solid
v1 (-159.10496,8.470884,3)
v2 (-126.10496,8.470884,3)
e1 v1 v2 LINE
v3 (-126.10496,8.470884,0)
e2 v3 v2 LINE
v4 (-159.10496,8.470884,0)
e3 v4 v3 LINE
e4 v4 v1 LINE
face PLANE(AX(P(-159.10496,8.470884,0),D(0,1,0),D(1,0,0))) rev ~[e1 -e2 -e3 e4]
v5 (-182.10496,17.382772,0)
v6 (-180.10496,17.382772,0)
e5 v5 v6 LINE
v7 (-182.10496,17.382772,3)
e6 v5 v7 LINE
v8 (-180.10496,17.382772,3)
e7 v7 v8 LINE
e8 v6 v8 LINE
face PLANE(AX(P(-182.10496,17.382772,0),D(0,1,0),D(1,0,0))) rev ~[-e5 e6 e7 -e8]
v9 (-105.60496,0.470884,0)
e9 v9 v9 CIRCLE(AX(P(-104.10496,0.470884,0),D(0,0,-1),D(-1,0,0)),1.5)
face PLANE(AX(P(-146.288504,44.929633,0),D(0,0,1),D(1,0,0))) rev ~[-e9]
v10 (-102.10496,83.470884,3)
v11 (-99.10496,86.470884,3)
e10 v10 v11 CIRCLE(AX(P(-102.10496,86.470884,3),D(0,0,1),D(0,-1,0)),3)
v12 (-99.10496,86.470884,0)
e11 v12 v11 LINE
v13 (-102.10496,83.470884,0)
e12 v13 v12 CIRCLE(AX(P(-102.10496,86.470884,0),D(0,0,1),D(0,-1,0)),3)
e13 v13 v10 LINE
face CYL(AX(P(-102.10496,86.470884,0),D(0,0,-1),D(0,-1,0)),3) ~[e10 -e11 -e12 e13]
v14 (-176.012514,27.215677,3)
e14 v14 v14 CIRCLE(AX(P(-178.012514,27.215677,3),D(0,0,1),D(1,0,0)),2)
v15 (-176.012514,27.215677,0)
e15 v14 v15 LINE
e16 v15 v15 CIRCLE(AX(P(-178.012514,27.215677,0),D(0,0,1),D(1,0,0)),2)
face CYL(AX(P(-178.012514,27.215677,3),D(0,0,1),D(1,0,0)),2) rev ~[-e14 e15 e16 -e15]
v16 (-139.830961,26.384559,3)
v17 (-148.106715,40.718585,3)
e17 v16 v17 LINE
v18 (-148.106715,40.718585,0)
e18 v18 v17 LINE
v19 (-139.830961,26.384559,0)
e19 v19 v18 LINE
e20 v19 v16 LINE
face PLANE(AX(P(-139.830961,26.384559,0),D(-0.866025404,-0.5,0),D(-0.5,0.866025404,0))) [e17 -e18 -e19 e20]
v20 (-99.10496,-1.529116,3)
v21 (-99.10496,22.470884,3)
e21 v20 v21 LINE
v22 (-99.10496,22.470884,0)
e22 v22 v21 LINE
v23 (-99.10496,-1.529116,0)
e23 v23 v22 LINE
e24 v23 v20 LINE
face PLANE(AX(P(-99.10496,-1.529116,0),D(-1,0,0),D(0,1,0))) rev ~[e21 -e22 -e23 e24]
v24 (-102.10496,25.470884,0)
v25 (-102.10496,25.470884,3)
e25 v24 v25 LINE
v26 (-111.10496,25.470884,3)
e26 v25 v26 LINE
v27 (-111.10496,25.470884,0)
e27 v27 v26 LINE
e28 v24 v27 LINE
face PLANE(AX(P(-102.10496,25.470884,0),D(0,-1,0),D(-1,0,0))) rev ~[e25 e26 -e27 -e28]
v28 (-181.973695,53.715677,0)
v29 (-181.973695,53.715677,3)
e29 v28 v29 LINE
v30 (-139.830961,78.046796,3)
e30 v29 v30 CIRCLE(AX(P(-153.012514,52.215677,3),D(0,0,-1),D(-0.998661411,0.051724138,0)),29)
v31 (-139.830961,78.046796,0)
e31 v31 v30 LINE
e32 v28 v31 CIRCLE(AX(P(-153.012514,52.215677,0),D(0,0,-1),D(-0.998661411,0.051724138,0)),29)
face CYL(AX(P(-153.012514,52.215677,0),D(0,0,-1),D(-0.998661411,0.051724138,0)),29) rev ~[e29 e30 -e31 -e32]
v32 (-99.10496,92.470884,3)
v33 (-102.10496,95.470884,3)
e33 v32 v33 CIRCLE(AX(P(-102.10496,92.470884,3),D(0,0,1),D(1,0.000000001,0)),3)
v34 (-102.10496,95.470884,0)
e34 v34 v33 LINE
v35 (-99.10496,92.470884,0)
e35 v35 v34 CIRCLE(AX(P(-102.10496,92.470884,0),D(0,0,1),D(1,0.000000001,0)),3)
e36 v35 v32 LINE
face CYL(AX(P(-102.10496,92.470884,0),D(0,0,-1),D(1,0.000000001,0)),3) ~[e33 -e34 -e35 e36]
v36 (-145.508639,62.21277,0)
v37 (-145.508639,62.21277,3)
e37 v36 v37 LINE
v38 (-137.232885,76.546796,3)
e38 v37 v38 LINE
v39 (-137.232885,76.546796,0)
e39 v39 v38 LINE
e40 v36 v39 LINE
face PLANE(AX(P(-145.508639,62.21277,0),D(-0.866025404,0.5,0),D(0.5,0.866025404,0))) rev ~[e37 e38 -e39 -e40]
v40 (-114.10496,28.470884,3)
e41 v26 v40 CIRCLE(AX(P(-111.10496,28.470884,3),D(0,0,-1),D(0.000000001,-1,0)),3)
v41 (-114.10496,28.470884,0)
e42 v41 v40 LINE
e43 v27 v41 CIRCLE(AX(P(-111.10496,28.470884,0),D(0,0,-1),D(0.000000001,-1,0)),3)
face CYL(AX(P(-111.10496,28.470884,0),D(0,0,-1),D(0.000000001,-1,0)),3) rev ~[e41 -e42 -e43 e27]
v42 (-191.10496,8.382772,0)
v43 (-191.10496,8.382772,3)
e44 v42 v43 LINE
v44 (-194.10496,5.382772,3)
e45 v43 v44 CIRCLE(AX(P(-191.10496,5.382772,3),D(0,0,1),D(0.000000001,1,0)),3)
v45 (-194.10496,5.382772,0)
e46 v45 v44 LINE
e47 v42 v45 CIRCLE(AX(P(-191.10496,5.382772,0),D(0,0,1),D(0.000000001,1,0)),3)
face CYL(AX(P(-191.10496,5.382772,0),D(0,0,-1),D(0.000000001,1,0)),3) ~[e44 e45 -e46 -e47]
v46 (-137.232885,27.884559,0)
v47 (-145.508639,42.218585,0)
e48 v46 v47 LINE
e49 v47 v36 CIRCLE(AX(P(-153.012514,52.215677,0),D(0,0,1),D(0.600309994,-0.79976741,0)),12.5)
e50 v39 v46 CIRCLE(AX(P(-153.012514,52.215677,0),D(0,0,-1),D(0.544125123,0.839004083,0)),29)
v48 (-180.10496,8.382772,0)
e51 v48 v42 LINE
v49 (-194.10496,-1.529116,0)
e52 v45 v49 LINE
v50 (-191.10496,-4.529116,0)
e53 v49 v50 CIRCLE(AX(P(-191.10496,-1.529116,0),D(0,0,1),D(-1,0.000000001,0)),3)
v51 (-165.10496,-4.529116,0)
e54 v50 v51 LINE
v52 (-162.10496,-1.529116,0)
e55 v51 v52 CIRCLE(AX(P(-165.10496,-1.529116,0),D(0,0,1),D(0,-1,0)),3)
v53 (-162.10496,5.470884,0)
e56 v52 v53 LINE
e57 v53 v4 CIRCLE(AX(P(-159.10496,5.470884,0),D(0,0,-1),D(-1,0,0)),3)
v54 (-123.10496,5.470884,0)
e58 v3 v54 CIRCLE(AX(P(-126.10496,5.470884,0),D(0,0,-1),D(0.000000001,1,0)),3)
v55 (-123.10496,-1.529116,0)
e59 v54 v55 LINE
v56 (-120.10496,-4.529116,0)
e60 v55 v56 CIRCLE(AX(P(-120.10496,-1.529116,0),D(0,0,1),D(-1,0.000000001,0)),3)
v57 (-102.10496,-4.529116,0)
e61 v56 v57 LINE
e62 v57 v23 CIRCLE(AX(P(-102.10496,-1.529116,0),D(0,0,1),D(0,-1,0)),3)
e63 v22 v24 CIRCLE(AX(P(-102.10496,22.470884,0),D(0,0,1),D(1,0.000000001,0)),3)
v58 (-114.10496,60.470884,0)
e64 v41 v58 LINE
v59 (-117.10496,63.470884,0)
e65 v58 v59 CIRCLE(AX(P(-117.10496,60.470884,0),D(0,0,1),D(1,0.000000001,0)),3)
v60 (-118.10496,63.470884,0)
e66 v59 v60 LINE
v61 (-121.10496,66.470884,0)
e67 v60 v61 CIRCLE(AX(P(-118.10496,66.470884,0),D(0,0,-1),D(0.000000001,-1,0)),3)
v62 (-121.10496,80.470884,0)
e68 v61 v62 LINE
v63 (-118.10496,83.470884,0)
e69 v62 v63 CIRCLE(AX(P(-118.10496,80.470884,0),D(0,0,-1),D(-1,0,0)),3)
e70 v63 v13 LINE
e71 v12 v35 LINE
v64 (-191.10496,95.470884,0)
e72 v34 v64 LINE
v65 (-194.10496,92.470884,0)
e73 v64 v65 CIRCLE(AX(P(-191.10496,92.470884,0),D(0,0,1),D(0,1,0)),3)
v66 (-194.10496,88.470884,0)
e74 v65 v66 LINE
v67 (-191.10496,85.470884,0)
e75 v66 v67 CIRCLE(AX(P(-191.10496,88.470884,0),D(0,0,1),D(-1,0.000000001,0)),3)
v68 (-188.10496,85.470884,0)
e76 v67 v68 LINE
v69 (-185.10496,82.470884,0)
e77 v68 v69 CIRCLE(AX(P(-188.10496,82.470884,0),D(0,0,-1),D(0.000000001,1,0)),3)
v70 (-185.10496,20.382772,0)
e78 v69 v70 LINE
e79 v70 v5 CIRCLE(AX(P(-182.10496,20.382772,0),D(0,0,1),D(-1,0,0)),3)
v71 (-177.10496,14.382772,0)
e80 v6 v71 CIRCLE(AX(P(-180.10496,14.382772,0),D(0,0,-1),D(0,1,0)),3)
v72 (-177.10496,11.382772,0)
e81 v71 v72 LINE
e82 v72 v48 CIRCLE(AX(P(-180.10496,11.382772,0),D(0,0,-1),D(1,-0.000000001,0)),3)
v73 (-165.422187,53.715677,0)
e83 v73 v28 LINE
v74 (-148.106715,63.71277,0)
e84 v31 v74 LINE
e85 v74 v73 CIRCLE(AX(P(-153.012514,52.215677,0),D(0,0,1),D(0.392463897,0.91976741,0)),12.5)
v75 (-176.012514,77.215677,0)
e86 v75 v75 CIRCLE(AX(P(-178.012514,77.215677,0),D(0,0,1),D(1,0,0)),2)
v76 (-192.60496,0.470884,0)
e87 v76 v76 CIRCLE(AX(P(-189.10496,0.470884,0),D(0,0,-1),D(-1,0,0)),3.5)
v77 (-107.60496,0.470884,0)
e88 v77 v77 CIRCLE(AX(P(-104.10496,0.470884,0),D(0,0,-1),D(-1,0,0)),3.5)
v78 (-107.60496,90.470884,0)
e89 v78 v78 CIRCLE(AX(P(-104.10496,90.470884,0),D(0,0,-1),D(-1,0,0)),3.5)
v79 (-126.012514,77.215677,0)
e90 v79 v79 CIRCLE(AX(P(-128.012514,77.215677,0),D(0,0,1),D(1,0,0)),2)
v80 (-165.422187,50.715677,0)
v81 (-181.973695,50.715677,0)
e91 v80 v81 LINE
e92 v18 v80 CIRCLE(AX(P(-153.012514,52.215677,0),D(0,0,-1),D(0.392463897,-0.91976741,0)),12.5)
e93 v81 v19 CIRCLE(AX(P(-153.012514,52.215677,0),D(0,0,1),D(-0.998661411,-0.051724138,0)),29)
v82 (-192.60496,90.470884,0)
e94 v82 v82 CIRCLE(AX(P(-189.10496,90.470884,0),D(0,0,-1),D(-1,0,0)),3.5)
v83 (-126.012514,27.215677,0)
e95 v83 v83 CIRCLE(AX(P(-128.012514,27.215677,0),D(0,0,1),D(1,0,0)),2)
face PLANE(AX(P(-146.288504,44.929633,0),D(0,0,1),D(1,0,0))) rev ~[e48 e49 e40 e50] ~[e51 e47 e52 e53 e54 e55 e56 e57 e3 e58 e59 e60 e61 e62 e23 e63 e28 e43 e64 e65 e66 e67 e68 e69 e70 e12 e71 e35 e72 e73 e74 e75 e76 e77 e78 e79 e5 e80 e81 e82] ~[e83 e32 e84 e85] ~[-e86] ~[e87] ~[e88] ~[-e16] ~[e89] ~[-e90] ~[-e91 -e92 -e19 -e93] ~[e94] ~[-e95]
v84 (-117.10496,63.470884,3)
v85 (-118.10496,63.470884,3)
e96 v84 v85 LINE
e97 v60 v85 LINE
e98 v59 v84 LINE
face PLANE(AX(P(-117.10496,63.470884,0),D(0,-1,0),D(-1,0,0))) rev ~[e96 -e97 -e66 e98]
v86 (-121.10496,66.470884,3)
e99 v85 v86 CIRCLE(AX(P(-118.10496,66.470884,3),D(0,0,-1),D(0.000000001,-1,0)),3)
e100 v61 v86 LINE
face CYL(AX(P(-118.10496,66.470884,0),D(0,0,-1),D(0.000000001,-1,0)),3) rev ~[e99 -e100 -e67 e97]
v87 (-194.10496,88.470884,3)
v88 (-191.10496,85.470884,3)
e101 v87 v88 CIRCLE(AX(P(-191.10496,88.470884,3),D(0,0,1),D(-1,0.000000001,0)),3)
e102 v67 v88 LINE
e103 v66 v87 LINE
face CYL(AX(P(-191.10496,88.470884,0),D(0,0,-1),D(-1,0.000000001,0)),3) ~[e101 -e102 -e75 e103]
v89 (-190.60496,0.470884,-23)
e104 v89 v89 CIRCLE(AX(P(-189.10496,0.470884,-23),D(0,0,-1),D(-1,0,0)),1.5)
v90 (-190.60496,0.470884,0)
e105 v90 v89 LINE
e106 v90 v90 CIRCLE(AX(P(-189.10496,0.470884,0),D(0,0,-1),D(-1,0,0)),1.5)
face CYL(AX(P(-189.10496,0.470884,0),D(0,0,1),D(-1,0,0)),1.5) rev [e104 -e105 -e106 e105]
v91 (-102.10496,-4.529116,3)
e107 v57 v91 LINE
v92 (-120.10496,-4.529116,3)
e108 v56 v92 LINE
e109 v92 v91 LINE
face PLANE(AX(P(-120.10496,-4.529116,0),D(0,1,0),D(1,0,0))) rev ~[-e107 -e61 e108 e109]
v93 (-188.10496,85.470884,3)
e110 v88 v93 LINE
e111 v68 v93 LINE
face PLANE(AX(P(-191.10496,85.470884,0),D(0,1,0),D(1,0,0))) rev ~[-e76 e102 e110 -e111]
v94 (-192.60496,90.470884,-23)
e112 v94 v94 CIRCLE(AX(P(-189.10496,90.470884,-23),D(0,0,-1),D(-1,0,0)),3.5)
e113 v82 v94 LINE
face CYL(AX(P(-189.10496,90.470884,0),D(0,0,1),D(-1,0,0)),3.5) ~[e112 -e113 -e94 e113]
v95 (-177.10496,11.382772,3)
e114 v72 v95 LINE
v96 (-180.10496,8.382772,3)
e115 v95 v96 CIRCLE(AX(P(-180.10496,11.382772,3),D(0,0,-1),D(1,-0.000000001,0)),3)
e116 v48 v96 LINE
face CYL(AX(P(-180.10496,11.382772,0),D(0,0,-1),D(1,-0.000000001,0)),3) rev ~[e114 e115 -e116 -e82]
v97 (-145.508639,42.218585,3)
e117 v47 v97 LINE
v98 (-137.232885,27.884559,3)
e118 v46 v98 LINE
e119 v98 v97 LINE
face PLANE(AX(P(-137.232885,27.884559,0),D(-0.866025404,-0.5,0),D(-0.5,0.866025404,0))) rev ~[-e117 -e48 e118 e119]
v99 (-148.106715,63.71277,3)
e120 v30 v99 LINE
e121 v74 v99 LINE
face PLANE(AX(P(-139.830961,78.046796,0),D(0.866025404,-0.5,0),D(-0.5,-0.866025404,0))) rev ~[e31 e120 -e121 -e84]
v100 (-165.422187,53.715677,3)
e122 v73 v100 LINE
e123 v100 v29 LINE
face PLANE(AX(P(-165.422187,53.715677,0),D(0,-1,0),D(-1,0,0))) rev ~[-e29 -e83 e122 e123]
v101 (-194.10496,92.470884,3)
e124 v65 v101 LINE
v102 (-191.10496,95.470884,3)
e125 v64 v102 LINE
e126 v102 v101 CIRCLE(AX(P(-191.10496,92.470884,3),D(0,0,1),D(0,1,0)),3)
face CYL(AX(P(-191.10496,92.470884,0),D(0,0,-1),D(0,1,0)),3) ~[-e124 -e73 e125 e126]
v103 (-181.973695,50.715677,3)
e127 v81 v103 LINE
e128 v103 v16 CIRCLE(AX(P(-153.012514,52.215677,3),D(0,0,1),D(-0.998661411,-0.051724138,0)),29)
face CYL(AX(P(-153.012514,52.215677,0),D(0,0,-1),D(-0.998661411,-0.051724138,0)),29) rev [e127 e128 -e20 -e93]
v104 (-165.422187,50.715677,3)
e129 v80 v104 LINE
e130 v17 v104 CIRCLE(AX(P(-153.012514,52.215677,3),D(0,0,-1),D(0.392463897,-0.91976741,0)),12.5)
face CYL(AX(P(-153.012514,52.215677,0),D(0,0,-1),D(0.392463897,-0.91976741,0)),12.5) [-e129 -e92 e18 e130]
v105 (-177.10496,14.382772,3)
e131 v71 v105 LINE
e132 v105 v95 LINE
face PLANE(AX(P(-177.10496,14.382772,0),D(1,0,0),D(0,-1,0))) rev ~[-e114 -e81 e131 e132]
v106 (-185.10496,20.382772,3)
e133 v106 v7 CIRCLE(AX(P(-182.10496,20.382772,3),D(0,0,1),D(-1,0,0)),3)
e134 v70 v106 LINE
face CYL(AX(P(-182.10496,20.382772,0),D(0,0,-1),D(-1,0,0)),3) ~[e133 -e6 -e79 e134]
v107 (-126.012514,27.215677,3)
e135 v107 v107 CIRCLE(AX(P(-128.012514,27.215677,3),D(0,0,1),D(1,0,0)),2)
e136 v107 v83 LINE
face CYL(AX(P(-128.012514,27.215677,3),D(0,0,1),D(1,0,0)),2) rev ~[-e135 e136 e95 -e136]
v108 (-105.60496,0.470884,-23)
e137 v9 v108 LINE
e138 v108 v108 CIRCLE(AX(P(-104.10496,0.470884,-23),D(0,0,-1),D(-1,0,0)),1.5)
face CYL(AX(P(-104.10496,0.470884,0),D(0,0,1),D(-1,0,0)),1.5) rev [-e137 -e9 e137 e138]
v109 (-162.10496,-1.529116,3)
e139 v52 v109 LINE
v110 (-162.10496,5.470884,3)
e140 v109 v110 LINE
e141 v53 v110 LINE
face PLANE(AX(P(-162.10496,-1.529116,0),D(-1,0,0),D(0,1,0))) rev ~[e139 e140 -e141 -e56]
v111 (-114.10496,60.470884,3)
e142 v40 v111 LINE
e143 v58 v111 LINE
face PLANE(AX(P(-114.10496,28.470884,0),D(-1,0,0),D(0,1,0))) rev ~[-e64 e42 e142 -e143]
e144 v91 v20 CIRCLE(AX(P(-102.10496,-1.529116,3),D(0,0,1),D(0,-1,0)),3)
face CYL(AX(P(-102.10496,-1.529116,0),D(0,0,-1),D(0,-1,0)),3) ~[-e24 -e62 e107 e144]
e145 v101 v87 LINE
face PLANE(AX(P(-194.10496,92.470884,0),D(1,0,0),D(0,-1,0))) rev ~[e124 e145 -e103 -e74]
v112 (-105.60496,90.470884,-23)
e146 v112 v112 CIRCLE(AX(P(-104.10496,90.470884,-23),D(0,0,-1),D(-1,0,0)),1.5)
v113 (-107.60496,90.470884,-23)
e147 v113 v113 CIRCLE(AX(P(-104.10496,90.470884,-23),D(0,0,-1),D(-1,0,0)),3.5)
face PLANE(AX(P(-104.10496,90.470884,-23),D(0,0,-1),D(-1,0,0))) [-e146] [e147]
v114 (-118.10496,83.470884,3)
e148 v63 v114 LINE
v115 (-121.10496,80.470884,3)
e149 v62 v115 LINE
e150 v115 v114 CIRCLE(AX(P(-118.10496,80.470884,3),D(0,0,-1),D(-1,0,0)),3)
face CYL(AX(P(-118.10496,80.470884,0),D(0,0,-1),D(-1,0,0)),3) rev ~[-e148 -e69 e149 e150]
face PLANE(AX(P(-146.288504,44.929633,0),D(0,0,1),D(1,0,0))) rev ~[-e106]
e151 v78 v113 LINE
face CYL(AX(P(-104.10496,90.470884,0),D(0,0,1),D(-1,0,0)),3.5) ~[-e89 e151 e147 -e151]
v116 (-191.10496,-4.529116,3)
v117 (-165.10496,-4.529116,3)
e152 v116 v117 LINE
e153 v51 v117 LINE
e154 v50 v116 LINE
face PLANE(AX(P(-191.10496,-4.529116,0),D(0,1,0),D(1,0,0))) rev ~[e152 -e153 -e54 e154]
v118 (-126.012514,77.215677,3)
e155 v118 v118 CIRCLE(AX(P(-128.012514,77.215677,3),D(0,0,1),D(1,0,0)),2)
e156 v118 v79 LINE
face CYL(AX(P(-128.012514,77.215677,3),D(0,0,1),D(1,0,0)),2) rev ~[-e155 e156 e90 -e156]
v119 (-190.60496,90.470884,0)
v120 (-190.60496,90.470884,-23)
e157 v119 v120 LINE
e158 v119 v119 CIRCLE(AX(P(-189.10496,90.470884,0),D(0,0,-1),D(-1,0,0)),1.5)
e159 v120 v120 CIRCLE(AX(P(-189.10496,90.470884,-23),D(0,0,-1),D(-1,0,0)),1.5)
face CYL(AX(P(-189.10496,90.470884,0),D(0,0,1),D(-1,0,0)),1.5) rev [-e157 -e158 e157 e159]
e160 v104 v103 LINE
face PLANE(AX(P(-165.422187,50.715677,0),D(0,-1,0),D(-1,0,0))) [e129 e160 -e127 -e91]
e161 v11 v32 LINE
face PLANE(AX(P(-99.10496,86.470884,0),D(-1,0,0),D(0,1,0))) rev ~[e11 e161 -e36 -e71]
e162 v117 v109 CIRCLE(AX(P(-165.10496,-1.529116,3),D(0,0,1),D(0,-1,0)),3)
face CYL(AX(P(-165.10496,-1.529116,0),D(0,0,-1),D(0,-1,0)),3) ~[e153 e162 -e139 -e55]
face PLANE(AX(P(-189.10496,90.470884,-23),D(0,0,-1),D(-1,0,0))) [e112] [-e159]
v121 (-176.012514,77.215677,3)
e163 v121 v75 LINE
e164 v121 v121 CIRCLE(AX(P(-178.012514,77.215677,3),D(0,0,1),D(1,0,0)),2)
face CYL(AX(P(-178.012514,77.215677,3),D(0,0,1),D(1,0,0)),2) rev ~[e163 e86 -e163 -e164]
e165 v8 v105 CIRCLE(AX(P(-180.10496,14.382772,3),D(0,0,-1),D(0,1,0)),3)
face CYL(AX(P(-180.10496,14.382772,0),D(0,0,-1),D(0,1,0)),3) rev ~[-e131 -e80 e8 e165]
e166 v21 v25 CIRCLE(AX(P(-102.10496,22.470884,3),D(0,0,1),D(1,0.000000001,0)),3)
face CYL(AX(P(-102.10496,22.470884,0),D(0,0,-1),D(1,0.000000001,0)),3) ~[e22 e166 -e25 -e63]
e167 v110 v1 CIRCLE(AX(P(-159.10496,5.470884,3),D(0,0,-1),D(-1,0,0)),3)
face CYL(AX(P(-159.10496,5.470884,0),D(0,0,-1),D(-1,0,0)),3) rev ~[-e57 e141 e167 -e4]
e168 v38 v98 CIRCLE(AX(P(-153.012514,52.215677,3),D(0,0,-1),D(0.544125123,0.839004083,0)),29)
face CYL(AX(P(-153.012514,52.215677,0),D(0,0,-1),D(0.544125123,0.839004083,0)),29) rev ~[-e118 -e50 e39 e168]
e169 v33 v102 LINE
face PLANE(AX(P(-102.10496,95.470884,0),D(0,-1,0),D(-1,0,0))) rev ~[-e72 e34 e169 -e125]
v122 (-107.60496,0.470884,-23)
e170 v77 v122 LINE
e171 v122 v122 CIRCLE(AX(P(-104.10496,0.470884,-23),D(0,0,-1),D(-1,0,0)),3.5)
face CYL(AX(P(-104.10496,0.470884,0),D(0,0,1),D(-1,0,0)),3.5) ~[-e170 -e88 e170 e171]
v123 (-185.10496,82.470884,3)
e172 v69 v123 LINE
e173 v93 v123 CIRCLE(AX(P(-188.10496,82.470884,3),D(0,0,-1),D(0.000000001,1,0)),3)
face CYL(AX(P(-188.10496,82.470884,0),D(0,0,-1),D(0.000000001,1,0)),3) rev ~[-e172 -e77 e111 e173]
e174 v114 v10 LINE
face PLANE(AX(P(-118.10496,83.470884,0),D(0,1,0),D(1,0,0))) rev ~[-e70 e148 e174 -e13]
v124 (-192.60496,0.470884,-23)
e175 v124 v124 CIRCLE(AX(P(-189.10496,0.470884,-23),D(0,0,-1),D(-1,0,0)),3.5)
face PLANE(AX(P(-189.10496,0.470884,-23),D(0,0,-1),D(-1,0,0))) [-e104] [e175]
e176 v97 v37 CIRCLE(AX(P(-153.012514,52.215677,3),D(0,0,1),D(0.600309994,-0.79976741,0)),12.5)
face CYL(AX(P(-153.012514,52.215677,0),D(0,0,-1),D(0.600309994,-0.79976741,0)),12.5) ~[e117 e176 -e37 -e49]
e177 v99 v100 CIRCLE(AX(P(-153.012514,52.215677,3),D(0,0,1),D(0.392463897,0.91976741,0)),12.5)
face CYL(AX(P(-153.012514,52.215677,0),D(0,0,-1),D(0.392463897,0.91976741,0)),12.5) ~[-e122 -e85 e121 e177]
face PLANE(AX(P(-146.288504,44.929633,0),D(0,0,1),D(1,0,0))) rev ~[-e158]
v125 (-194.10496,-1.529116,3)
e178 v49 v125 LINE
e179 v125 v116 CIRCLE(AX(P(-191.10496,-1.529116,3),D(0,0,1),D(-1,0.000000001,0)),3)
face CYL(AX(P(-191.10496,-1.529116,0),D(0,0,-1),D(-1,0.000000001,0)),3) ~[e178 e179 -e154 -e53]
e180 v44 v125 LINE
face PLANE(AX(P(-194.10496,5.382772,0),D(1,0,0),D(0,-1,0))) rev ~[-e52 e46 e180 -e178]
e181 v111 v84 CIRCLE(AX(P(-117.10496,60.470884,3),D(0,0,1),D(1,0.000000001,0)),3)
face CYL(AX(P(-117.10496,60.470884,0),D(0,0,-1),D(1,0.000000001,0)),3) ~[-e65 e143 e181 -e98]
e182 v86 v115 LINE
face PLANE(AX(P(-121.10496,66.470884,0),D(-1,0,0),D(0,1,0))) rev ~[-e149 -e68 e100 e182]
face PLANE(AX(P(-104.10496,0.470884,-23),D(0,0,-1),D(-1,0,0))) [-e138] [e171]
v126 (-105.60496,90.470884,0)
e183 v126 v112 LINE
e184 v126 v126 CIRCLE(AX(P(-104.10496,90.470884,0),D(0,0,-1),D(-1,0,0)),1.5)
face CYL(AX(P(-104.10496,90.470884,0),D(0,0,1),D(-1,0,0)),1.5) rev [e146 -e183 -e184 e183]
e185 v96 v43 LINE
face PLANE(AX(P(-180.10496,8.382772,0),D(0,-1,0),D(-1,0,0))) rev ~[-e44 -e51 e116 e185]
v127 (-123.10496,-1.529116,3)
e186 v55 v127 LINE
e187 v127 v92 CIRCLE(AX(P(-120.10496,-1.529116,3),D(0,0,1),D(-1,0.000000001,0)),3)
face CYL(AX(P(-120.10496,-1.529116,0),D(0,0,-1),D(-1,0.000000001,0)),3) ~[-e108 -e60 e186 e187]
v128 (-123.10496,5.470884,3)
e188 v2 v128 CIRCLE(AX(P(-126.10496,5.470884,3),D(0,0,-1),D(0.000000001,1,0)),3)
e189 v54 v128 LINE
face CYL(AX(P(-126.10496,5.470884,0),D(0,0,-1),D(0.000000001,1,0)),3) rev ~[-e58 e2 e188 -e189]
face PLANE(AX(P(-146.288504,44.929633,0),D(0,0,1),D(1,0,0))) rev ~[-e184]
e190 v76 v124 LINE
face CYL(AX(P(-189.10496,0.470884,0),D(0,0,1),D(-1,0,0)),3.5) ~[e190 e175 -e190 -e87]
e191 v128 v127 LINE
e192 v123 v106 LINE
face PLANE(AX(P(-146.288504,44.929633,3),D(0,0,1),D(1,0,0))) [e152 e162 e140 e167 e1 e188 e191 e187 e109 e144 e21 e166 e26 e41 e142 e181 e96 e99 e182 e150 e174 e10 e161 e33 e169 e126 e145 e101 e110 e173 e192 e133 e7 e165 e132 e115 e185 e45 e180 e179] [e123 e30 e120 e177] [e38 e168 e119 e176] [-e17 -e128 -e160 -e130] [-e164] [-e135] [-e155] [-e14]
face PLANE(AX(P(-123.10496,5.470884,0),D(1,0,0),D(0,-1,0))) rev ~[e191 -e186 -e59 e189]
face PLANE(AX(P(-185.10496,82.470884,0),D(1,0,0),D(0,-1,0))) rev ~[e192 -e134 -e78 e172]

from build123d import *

# Parameters (mm, degrees)
SALIENTE_EXTRUIR1_DEPTH = 3
CROQUIS2_R              = 3.5
CROQUIS2_R_2            = 1.5
SALIENTE_EXTRUIR2_DEPTH = 23
CROQUIS3_R              = 2
CORTAR_EXTRUIR1_DEPTH   = 3


with BuildPart() as part:
    # Croquis1 → Saliente-Extruir1 (new body)
    with BuildSketch(Plane.XY):
        with BuildLine():
            Line((-194.10496046, 92.470884256), (-194.10496046, 88.470884256))
            ThreePointArc((-194.10496046, 88.470884256), (-193.226280804, 86.349563912), (-191.10496046, 85.470884256))
            Line((-191.10496046, 85.470884256), (-188.10496046, 85.470884256))
            ThreePointArc((-188.10496046, 85.470884256), (-185.983640117, 84.592204599), (-185.10496046, 82.470884256))
            Line((-185.10496046, 82.470884256), (-185.10496046, 20.382772077))
            ThreePointArc((-185.10496046, 20.382772077), (-184.226280804, 18.261451734), (-182.10496046, 17.382772077))
            Line((-182.10496046, 17.382772077), (-180.10496046, 17.382772077))
            ThreePointArc((-180.10496046, 17.382772077), (-177.983640117, 16.504092421), (-177.10496046, 14.382772077))
            Line((-177.10496046, 14.382772077), (-177.10496046, 11.382772077))
            ThreePointArc((-177.10496046, 11.382772077), (-177.983640117, 9.261451734), (-180.10496046, 8.382772077))
            Line((-180.10496046, 8.382772077), (-191.10496046, 8.382772077))
            ThreePointArc((-191.10496046, 8.382772077), (-193.226280804, 7.504092421), (-194.10496046, 5.382772077))
            Line((-194.10496046, 5.382772077), (-194.10496046, -1.529115744))
            ThreePointArc((-194.10496046, -1.529115744), (-193.226280804, -3.650436088), (-191.10496046, -4.529115744))
            Line((-191.10496046, -4.529115744), (-165.10496046, -4.529115744))
            ThreePointArc((-165.10496046, -4.529115744), (-162.983640117, -3.650436088), (-162.10496046, -1.529115744))
            Line((-162.10496046, -1.529115744), (-162.10496046, 5.470884256))
            ThreePointArc((-162.10496046, 5.470884256), (-161.226280804, 7.592204599), (-159.10496046, 8.470884256))
            Line((-159.10496046, 8.470884256), (-126.10496046, 8.470884256))
            ThreePointArc((-126.10496046, 8.470884256), (-123.983640117, 7.592204599), (-123.10496046, 5.470884256))
            Line((-123.10496046, 5.470884256), (-123.10496046, -1.529115744))
            ThreePointArc((-123.10496046, -1.529115744), (-122.226280804, -3.650436088), (-120.10496046, -4.529115744))
            Line((-120.10496046, -4.529115744), (-102.10496046, -4.529115744))
            ThreePointArc((-102.10496046, -4.529115744), (-99.983640117, -3.650436088), (-99.10496046, -1.529115744))
            Line((-99.10496046, -1.529115744), (-99.10496046, 22.470884256))
            ThreePointArc((-99.10496046, 22.470884256), (-99.983640117, 24.592204599), (-102.10496046, 25.470884256))
            Line((-102.10496046, 25.470884256), (-111.10496046, 25.470884256))
            ThreePointArc((-111.10496046, 25.470884256), (-113.226280804, 26.349563912), (-114.10496046, 28.470884256))
            Line((-114.10496046, 28.470884256), (-114.10496046, 60.470884256))
            ThreePointArc((-114.10496046, 60.470884256), (-114.983640117, 62.592204599), (-117.10496046, 63.470884256))
            Line((-117.10496046, 63.470884256), (-118.10496046, 63.470884256))
            ThreePointArc((-118.10496046, 63.470884256), (-120.226280804, 64.349563912), (-121.10496046, 66.470884256))
            Line((-121.10496046, 66.470884256), (-121.10496046, 80.470884256))
            ThreePointArc((-121.10496046, 80.470884256), (-120.226280804, 82.592204599), (-118.10496046, 83.470884256))
            Line((-118.10496046, 83.470884256), (-102.10496046, 83.470884256))
            ThreePointArc((-102.10496046, 83.470884256), (-99.983640117, 84.349563912), (-99.10496046, 86.470884256))
            Line((-99.10496046, 86.470884256), (-99.10496046, 92.470884256))
            ThreePointArc((-99.10496046, 92.470884256), (-99.983640117, 94.592204599), (-102.10496046, 95.470884256))
            Line((-102.10496046, 95.470884256), (-191.10496046, 95.470884256))
            ThreePointArc((-191.10496046, 95.470884256), (-193.226280804, 94.592204599), (-194.10496046, 92.470884256))
        make_face()
        with BuildLine():
            Line((-165.422187349, 50.715677144), (-181.973694619, 50.715677144))
            ThreePointArc((-181.973694619, 50.715677144), (-167.512513703, 27.100940434), (-139.830961352, 26.384558748))
            Line((-139.830961352, 26.384558748), (-148.106714986, 40.718584514))
            ThreePointArc((-148.106714986, 40.718584514), (-159.262513703, 41.390359596), (-165.422187349, 50.715677144))
        make_face(mode=Mode.SUBTRACT)
        with BuildLine():
            Line((-165.422187349, 53.715677144), (-181.973694619, 53.715677144))
            ThreePointArc((-181.973694619, 53.715677144), (-167.512513703, 77.330413853), (-139.830961352, 78.04679554))
            Line((-139.830961352, 78.04679554), (-148.106714986, 63.712769774))
            ThreePointArc((-148.106714986, 63.712769774), (-159.262513703, 63.040994691), (-165.422187349, 53.715677144))
        make_face(mode=Mode.SUBTRACT)
        with BuildLine():
            Line((-145.508638775, 62.212769774), (-137.23288514, 76.54679554))
            ThreePointArc((-137.23288514, 76.54679554), (-124.012513703, 52.215677144), (-137.23288514, 27.884558748))
            Line((-137.23288514, 27.884558748), (-145.508638775, 42.218584514))
            ThreePointArc((-145.508638775, 42.218584514), (-140.512513703, 52.215677144), (-145.508638775, 62.212769774))
        make_face(mode=Mode.SUBTRACT)
    extrude(amount=SALIENTE_EXTRUIR1_DEPTH)

    # Croquis2 → Saliente-Extruir2 (add)
    with BuildSketch(Plane(origin=(0, 0, 0), x_dir=(-1, 0, 0), z_dir=(0, 0, -1))):
        with Locations((189.10496046, 90.470884256)):
            Circle(CROQUIS2_R)
        with Locations((189.10496046, 90.470884256)):
            Circle(CROQUIS2_R_2, mode=Mode.SUBTRACT)
        with Locations((104.10496046, 90.470884256)):
            Circle(CROQUIS2_R)
        with Locations((104.10496046, 90.470884256)):
            Circle(CROQUIS2_R_2, mode=Mode.SUBTRACT)
        with Locations((104.10496046, 0.470884256)):
            Circle(CROQUIS2_R)
        with Locations((104.10496046, 0.470884256)):
            Circle(CROQUIS2_R_2, mode=Mode.SUBTRACT)
        with Locations((189.10496046, 0.470884256)):
            Circle(CROQUIS2_R)
        with Locations((189.10496046, 0.470884256)):
            Circle(CROQUIS2_R_2, mode=Mode.SUBTRACT)
    extrude(amount=SALIENTE_EXTRUIR2_DEPTH)

    # Croquis3 → Cortar-Extruir1 (cut)
    with BuildSketch(Plane.XY.offset(3)):
        with Locations((-178.012513703, 77.215677144)):
            Circle(CROQUIS3_R)
        with Locations((-128.012513703, 77.215677144)):
            Circle(CROQUIS3_R)
        with Locations((-128.012513703, 27.215677144)):
            Circle(CROQUIS3_R)
        with Locations((-178.012513703, 27.215677144)):
            Circle(CROQUIS3_R)
    extrude(amount=-CORTAR_EXTRUIR1_DEPTH, mode=Mode.SUBTRACT)


solid = part.part
